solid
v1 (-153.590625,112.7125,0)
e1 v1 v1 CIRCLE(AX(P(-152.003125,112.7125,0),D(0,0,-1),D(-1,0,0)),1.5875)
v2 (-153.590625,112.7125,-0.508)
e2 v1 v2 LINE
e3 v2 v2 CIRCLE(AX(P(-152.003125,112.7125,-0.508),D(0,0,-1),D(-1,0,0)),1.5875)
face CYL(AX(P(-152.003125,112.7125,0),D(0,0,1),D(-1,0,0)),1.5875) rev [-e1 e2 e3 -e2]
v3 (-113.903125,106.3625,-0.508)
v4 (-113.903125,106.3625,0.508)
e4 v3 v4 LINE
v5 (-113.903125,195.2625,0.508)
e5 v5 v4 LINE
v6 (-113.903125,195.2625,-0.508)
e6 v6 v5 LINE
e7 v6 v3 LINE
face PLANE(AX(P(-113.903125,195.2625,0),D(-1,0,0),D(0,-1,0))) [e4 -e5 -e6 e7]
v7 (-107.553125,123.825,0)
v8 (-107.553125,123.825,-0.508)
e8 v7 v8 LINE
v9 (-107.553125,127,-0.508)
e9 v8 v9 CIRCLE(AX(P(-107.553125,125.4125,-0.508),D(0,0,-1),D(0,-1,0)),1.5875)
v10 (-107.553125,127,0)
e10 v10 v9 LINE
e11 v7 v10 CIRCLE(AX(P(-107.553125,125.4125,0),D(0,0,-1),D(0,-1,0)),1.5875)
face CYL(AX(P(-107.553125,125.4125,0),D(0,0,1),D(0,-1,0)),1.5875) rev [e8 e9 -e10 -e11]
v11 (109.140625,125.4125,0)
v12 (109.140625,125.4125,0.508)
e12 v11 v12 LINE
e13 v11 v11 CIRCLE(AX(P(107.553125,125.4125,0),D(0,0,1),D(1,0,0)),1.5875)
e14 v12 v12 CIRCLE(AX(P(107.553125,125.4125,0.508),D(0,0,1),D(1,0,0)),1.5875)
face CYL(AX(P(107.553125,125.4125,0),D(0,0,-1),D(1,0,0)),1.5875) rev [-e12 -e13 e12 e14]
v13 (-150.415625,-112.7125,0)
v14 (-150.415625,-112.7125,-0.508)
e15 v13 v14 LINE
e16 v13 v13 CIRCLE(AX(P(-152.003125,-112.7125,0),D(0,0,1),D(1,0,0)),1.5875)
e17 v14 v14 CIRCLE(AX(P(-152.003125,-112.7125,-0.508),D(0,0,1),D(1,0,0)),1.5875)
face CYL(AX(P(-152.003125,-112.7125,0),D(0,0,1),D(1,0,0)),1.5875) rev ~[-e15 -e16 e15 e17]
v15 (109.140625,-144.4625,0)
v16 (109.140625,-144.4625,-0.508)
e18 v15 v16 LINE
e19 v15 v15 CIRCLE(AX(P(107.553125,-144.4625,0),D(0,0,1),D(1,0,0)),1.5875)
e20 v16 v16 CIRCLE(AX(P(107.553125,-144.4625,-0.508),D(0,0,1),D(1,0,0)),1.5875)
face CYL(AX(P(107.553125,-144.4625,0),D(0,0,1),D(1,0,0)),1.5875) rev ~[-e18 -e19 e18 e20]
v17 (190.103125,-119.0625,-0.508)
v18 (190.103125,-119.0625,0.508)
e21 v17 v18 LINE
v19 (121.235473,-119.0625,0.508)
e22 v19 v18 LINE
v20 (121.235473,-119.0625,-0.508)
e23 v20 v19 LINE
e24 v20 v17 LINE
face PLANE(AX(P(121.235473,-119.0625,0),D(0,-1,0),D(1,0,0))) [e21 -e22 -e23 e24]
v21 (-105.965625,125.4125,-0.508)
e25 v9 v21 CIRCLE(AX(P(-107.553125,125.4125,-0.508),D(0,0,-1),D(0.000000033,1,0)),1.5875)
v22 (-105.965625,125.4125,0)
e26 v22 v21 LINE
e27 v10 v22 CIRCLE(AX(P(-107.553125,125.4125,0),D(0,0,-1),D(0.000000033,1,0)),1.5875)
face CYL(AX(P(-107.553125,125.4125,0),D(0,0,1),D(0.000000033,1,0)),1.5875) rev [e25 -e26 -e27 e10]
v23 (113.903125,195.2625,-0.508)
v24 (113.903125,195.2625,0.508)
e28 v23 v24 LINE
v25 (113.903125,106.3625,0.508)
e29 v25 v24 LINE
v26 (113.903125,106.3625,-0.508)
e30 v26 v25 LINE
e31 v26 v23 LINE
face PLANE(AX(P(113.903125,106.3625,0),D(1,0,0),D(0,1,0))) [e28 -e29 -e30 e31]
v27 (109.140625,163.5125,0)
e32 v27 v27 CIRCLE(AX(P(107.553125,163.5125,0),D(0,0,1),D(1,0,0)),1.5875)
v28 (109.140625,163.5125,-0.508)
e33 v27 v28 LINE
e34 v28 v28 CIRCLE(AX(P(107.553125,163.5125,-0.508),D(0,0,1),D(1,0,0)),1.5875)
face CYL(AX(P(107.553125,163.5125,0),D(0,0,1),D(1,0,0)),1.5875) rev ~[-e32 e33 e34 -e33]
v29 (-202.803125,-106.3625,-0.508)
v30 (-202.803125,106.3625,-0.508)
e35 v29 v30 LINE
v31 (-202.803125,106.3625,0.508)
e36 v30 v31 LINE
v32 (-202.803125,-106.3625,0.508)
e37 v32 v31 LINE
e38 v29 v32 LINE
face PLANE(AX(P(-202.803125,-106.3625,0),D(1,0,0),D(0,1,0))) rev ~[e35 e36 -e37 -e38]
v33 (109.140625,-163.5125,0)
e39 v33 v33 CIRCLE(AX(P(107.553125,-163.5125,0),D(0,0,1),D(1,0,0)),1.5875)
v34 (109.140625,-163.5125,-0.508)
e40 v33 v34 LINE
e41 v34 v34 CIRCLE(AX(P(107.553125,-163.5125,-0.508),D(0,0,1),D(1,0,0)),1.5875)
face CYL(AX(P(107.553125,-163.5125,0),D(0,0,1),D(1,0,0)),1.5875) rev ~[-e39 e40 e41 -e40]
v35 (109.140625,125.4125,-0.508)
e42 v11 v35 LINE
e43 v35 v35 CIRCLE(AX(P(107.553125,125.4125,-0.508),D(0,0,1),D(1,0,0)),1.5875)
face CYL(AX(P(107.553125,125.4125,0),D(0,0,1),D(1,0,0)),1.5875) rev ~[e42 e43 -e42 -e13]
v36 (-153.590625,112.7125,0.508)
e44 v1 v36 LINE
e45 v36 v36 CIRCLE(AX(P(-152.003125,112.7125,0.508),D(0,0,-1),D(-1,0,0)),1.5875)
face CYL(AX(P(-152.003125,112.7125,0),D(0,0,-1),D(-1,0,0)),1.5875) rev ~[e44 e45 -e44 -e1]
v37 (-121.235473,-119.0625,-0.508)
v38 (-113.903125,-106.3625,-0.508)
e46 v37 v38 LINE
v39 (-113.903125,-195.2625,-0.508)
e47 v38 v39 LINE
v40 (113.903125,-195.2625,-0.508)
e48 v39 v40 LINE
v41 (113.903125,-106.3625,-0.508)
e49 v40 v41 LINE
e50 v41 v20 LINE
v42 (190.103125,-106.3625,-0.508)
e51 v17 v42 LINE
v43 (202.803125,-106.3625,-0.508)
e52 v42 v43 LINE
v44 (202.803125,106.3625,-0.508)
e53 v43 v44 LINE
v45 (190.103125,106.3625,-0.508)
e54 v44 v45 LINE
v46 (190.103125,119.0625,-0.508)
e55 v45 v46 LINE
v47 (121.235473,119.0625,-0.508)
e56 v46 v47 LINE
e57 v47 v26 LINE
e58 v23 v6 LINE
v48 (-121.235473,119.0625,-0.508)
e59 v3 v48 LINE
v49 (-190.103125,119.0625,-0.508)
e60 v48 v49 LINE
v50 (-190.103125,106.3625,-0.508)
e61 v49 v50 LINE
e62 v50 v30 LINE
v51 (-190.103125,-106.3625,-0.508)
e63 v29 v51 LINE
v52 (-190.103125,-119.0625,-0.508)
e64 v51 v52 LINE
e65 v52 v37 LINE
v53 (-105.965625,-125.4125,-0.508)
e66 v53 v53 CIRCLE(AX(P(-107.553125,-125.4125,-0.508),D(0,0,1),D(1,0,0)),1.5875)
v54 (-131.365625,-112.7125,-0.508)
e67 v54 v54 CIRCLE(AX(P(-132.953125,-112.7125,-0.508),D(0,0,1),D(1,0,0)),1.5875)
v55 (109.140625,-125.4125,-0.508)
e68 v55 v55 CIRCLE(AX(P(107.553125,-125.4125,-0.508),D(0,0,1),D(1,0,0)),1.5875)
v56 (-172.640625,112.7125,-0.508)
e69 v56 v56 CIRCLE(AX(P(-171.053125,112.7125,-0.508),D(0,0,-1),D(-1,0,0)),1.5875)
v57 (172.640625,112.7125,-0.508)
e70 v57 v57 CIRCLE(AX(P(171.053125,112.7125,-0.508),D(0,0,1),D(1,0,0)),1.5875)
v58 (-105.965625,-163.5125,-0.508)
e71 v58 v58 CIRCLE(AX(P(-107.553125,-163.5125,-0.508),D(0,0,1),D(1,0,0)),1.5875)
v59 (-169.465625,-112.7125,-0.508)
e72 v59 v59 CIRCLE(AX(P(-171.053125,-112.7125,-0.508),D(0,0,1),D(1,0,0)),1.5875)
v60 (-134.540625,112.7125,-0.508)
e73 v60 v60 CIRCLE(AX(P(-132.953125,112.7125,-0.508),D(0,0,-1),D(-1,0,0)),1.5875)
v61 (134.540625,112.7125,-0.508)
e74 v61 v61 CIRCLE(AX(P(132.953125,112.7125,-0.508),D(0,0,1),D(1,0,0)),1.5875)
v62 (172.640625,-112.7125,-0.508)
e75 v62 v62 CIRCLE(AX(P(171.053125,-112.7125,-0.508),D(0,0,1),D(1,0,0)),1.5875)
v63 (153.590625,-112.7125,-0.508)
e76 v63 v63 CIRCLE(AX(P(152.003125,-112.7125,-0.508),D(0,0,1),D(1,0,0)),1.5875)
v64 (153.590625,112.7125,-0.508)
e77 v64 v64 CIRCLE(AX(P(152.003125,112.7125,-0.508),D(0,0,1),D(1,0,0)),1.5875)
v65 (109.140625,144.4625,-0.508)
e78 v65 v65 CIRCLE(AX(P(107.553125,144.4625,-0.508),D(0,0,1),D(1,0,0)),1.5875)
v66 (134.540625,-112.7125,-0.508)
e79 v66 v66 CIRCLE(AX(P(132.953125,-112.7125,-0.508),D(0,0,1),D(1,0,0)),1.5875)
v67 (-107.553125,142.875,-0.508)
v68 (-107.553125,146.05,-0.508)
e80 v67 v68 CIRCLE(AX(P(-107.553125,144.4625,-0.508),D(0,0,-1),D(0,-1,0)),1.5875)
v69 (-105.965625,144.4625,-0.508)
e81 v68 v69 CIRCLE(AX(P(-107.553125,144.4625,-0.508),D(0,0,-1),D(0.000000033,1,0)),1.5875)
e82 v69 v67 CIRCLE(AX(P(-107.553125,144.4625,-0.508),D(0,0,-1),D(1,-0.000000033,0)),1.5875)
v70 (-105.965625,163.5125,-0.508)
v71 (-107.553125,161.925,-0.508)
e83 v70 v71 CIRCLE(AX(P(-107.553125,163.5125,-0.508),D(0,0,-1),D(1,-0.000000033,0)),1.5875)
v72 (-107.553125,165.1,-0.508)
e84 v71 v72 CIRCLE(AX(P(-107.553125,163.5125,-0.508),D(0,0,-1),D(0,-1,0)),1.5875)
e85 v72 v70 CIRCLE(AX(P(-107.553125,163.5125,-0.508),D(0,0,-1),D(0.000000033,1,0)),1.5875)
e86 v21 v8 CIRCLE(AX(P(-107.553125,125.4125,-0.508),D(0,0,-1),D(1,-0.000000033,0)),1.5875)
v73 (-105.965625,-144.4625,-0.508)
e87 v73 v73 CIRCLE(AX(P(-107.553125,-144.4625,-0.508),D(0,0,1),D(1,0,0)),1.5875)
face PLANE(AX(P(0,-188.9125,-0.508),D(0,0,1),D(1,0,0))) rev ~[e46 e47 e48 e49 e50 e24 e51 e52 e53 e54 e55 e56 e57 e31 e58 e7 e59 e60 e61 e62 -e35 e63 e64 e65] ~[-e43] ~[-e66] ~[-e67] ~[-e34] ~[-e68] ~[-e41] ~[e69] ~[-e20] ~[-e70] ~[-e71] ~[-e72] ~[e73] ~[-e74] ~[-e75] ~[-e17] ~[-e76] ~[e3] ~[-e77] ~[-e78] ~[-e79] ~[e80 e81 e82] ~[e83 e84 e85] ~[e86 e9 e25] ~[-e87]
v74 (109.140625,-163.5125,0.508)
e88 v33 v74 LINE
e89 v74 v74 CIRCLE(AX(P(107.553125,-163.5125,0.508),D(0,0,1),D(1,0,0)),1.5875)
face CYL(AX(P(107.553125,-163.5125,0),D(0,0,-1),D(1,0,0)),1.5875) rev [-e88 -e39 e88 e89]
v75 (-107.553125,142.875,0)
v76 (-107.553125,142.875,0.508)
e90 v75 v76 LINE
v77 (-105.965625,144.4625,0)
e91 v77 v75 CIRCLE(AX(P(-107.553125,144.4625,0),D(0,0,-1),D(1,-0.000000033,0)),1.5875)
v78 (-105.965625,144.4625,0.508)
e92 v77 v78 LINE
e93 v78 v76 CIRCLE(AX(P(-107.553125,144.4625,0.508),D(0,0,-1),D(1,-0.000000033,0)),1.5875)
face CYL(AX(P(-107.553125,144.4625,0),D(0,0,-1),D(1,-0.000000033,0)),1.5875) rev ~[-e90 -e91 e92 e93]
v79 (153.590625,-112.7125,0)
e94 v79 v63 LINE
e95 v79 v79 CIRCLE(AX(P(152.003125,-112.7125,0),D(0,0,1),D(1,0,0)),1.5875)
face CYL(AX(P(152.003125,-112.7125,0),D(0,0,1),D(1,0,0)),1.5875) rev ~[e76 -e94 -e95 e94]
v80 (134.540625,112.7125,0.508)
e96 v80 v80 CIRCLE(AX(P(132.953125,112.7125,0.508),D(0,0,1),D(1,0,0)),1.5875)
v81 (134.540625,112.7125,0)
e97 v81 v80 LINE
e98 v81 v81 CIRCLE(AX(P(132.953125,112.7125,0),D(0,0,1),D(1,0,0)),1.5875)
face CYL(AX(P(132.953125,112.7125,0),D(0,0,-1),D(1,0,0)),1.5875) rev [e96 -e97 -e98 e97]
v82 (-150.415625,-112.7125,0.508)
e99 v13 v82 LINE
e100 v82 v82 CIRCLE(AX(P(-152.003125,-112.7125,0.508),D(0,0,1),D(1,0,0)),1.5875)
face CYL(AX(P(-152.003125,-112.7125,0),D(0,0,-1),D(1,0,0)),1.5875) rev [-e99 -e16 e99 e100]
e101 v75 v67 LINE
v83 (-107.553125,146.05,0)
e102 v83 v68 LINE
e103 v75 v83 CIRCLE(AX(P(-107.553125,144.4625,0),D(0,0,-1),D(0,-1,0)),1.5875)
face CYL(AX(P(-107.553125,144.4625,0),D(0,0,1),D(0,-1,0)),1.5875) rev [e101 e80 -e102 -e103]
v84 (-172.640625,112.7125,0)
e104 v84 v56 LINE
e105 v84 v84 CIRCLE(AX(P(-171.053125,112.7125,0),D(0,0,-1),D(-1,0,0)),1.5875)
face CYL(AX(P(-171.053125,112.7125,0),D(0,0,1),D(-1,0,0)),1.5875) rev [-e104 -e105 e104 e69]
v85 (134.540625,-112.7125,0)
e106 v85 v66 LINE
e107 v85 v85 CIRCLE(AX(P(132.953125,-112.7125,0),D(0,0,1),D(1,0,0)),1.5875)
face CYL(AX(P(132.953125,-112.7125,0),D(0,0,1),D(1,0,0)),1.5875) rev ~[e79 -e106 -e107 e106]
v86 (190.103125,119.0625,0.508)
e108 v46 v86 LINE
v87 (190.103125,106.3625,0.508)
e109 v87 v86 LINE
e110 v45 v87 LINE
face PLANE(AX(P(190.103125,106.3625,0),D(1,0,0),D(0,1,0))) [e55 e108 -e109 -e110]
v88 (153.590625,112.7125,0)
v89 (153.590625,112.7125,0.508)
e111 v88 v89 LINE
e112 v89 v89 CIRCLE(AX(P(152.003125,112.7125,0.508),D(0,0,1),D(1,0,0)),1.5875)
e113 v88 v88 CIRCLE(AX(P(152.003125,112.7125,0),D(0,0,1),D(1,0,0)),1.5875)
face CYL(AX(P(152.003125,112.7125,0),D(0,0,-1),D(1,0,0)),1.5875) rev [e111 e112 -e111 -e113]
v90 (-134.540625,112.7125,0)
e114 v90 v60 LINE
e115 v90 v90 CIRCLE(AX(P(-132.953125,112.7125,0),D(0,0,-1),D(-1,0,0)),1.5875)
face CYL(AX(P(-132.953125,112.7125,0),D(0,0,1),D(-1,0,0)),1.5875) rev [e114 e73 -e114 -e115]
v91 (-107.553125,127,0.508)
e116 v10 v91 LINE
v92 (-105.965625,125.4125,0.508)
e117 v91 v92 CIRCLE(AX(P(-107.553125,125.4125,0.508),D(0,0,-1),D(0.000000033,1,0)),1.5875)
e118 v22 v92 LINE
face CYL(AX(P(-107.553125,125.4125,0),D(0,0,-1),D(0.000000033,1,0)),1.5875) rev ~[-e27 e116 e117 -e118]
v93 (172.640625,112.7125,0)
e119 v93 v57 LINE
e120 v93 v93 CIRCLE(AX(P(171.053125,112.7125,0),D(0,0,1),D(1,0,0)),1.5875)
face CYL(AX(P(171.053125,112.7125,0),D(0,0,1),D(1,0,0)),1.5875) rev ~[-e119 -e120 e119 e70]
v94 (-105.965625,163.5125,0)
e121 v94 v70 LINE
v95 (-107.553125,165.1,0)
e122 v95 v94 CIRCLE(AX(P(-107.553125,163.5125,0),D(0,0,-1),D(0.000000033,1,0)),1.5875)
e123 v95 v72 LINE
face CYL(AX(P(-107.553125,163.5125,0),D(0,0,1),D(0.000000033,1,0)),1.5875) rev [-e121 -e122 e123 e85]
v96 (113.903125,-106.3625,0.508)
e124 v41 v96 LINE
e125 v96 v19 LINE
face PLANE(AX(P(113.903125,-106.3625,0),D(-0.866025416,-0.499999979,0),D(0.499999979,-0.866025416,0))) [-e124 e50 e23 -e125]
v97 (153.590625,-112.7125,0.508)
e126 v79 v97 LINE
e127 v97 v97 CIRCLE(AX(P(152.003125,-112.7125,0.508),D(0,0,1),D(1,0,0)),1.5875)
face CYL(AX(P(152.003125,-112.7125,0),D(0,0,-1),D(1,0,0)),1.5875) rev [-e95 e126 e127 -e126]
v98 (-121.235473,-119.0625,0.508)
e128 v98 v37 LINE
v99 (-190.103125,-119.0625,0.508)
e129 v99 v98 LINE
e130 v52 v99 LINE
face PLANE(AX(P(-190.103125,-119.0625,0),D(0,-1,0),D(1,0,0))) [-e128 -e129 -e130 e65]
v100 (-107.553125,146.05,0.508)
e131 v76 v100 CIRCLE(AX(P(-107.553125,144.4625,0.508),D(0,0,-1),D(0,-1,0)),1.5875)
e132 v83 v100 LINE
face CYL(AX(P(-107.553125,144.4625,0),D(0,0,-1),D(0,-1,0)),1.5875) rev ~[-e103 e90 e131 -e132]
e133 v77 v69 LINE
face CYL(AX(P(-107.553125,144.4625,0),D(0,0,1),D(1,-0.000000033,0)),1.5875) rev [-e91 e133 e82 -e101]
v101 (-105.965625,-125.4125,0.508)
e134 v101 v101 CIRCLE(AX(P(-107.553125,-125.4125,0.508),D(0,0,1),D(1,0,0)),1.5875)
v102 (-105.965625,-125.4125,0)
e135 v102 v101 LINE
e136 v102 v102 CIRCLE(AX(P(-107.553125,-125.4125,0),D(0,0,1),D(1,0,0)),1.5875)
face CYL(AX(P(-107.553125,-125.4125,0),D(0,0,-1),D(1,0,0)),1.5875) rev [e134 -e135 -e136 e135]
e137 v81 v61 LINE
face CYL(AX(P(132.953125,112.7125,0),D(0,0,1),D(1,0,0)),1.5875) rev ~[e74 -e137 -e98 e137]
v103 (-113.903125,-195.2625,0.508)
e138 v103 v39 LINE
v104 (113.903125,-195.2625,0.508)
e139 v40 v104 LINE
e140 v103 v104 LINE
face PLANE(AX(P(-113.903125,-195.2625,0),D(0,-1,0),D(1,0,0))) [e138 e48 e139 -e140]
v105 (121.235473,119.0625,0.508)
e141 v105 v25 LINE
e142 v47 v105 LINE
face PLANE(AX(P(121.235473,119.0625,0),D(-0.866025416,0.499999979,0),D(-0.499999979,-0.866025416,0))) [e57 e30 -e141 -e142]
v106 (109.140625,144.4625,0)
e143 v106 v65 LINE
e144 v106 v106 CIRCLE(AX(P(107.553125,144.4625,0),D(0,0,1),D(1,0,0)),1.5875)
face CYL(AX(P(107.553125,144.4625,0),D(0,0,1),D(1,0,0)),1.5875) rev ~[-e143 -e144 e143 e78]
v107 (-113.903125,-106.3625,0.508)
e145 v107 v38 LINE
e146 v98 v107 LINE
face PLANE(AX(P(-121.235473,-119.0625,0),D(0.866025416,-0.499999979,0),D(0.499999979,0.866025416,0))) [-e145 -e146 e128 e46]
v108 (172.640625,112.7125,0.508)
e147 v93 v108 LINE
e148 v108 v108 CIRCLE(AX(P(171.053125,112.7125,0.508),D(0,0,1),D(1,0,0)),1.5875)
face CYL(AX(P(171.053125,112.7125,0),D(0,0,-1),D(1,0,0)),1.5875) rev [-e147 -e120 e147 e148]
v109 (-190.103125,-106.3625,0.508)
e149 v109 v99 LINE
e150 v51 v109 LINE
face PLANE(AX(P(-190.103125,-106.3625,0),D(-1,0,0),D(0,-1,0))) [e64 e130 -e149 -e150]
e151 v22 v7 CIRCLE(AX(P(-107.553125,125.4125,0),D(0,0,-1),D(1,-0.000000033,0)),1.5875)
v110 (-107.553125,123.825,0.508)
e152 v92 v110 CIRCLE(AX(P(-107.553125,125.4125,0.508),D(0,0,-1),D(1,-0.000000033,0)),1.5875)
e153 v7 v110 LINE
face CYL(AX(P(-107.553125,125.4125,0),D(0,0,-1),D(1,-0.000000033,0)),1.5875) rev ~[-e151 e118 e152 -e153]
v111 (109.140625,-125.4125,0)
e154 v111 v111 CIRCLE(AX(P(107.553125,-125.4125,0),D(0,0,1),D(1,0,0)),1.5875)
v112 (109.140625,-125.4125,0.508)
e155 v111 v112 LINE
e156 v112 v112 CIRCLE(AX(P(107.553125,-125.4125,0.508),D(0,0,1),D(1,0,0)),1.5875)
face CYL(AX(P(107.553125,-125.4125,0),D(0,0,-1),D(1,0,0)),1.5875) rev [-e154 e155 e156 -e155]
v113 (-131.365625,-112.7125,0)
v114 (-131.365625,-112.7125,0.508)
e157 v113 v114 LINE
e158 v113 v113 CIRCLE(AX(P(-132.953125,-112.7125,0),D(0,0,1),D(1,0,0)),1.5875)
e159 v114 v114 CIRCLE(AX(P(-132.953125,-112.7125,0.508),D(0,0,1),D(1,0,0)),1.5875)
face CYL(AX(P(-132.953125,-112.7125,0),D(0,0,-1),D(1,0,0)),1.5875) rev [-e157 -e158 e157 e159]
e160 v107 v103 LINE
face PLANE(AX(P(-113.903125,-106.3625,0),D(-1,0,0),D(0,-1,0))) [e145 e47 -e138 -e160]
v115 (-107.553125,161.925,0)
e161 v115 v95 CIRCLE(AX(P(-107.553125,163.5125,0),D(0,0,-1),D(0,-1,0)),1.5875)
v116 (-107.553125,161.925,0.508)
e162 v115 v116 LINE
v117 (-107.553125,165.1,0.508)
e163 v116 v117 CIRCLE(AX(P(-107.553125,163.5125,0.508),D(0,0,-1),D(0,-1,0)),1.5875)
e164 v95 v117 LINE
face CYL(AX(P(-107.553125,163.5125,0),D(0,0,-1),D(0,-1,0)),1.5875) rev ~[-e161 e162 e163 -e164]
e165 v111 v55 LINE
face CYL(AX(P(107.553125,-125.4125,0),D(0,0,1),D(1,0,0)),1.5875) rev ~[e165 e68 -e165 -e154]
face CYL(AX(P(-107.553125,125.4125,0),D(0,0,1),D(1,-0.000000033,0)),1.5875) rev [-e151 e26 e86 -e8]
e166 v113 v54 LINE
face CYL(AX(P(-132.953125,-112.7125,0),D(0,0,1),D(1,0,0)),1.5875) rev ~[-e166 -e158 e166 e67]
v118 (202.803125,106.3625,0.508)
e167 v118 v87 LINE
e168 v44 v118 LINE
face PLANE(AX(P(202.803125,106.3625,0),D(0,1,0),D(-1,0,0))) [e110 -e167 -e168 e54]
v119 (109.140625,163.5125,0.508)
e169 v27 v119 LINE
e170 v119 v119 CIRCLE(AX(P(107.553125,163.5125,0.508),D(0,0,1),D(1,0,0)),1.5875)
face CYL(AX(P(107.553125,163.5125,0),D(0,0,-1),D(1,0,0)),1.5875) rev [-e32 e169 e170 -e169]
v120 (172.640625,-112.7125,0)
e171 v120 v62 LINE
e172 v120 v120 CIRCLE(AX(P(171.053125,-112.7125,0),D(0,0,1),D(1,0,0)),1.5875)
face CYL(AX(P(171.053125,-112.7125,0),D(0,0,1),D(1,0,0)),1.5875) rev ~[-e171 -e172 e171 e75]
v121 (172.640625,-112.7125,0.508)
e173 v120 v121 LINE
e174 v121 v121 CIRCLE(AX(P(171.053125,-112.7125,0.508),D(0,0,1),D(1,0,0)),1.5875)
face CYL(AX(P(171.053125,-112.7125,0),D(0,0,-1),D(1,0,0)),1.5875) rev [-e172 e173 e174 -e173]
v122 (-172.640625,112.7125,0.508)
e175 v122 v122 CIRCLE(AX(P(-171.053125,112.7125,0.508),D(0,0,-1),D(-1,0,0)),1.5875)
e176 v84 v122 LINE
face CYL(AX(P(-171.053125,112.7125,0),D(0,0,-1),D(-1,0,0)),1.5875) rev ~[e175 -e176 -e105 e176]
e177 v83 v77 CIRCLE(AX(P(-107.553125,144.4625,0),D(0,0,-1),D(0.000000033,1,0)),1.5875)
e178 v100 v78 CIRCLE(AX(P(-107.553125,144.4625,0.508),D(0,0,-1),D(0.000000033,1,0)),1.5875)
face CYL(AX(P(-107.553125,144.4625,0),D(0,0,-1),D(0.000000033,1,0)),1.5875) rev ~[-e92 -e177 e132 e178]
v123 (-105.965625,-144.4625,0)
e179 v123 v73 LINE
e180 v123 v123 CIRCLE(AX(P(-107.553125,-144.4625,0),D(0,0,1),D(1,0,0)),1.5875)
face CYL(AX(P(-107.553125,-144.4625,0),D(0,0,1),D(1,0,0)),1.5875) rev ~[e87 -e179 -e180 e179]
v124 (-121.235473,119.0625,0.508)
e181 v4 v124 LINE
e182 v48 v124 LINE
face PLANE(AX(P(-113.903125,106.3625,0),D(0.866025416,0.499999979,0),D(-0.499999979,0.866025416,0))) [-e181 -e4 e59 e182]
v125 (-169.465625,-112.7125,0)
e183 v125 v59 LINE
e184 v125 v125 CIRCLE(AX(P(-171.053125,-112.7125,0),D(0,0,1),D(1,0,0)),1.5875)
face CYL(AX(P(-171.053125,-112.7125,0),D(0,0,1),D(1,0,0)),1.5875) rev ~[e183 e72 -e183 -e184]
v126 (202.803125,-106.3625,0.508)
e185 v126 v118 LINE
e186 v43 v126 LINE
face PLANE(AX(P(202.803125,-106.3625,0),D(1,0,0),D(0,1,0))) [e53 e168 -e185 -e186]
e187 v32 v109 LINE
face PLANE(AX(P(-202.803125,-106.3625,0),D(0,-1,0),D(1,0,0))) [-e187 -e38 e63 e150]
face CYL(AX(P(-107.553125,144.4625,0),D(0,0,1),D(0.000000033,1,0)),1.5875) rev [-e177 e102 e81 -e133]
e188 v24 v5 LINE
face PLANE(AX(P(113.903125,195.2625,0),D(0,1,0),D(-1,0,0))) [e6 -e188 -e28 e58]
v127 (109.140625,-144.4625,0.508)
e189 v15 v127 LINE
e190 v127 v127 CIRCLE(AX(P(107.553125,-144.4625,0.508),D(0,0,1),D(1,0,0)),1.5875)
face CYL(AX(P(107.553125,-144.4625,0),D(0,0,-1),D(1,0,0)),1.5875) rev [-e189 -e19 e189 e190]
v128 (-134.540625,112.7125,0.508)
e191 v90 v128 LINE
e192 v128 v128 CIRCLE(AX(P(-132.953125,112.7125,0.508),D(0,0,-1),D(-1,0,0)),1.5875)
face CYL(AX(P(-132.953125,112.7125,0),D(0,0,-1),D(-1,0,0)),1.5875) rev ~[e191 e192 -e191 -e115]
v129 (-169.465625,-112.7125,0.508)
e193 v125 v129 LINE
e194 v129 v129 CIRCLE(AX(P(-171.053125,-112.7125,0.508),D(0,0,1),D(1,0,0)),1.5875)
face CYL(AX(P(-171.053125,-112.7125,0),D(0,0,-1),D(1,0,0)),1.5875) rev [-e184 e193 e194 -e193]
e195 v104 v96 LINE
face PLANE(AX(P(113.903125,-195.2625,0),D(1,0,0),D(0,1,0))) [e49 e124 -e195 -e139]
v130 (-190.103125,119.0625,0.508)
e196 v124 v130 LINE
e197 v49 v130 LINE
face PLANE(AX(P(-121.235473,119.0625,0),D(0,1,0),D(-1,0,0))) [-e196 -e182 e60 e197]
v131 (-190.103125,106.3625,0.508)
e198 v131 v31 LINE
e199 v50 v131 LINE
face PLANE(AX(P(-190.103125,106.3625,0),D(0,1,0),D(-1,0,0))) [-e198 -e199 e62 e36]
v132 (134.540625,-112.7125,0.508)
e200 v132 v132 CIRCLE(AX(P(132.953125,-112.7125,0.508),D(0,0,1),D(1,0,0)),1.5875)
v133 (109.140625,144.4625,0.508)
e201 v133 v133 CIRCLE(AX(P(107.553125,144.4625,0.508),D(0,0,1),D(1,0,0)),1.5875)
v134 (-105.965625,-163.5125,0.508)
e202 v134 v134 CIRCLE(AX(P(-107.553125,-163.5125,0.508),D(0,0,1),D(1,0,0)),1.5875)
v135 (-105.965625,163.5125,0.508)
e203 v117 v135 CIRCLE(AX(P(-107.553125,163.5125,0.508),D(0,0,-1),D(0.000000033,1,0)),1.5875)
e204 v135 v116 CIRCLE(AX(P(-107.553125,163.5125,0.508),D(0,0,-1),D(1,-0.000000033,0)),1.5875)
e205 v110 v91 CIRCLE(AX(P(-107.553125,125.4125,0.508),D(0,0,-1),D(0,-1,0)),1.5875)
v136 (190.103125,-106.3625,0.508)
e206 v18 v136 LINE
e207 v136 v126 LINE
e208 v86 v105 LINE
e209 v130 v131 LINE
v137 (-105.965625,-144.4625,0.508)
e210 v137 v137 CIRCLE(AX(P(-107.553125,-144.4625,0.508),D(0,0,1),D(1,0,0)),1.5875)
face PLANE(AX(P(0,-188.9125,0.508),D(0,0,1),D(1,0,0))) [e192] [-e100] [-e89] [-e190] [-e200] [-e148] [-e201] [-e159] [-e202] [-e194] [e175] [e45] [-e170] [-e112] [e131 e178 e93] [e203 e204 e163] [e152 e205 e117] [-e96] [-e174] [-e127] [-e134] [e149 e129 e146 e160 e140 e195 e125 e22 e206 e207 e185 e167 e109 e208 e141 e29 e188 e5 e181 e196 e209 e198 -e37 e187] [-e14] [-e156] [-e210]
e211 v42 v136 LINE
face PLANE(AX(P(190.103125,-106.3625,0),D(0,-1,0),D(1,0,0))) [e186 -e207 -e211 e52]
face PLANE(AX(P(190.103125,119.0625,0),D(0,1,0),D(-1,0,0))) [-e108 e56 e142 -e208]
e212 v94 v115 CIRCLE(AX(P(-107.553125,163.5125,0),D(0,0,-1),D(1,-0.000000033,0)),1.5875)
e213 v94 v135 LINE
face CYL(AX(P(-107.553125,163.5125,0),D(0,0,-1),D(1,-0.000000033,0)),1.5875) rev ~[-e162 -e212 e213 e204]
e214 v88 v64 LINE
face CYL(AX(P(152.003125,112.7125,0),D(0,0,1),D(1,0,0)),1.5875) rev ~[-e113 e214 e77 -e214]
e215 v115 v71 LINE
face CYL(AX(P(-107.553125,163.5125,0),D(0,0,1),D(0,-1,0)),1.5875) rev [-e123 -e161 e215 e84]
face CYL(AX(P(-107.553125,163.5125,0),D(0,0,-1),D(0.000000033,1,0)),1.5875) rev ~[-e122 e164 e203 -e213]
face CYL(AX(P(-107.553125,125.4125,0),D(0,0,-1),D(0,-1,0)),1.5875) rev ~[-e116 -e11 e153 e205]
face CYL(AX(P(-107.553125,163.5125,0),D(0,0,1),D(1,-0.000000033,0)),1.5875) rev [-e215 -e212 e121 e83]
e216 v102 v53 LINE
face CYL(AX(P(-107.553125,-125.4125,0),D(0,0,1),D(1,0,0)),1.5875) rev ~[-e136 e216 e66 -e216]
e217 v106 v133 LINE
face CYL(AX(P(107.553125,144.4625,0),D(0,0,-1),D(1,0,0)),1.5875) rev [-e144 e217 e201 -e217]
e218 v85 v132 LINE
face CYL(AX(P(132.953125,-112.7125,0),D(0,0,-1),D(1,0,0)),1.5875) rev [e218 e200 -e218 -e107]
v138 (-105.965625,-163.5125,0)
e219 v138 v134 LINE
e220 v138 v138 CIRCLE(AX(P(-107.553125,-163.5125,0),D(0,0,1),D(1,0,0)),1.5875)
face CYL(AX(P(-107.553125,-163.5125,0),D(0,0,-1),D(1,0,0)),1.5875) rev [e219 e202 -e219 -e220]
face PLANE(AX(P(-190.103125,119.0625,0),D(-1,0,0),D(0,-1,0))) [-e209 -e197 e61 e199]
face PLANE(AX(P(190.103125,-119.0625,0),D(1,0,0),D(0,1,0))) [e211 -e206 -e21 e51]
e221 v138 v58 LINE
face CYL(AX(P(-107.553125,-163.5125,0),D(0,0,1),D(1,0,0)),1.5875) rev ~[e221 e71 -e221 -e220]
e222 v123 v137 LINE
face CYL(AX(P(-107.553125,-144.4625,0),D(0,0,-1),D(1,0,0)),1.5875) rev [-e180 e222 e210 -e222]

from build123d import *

# Parameters (mm, degrees)
F0_W     = 227.80625
F0_H     = 12.7
F0_W_2   = 6.35
F0_H_2   = 212.725
F0_W_3   = 76.2
F0_R     = 1.5875
F1_DEPTH = 0.508


with BuildPart() as f1:
    # F0 (on Top) → F1 (new body, symmetric)
    with BuildSketch(Plane.XY):
        with Locations((0, -188.9125)):
            Rectangle(F0_W, F0_H)
        with Locations((-199.628125, 0)):
            Rectangle(F0_W_2, F0_H_2)
        with Locations((199.628125, 0)):
            Rectangle(F0_W_2, F0_H_2)
        Polygon((-107.553125, 182.5625), (113.903125, 182.5625), (113.903125, 195.2625), (-113.903125, 195.2625), (-113.903125, 182.5625), align=None)
        with Locations((-193.278125, 0)):
            Rectangle(F0_W_2, F0_H_2)
        with Locations((193.278125, 0)):
            Rectangle(F0_W_2, F0_H_2)
        with Locations((152.003125, 0)):
            Rectangle(F0_W_3, F0_H_2)
        with Locations((-152.003125, 0)):
            Rectangle(F0_W_3, F0_H_2)
        Polygon((-121.235473, -119.0625), (-113.903125, -106.3625), (-190.103125, -106.3625), (-190.103125, -119.0625), align=None)
        with Locations((-171.053125, -112.7125)):
            Circle(F0_R, mode=Mode.SUBTRACT)
        with Locations((-152.003125, -112.7125)):
            Circle(F0_R, mode=Mode.SUBTRACT)
        with Locations((-132.953125, -112.7125)):
            Circle(F0_R, mode=Mode.SUBTRACT)
        with BuildLine():
            Line((-131.365625, 112.7125), (-117.569299, 112.7125))
            Line((-117.569299, 112.7125), (-121.235473, 119.0625))
            Line((-121.235473, 119.0625), (-190.103125, 119.0625))
            Line((-190.103125, 119.0625), (-190.103125, 112.7125))
            Line((-190.103125, 112.7125), (-172.640625, 112.7125))
            ThreePointArc((-172.640625, 112.7125), (-171.053125, 114.3), (-169.465625, 112.7125))
            Line((-169.465625, 112.7125), (-153.590625, 112.7125))
            ThreePointArc((-153.590625, 112.7125), (-152.003125, 114.3), (-150.415625, 112.7125))
            Line((-150.415625, 112.7125), (-134.540625, 112.7125))
            ThreePointArc((-134.540625, 112.7125), (-132.953125, 114.3), (-131.365625, 112.7125))
        make_face()
        Polygon((190.103125, -106.3625), (113.903125, -106.3625), (121.235473, -119.0625), (190.103125, -119.0625), align=None)
        with Locations((132.953125, -112.7125)):
            Circle(F0_R, mode=Mode.SUBTRACT)
        with Locations((152.003125, -112.7125)):
            Circle(F0_R, mode=Mode.SUBTRACT)
        with Locations((171.053125, -112.7125)):
            Circle(F0_R, mode=Mode.SUBTRACT)
        Polygon((121.235473, 119.0625), (113.903125, 106.3625), (190.103125, 106.3625), (190.103125, 119.0625), align=None)
        with Locations((132.953125, 112.7125)):
            Circle(F0_R, mode=Mode.SUBTRACT)
        with Locations((152.003125, 112.7125)):
            Circle(F0_R, mode=Mode.SUBTRACT)
        with Locations((171.053125, 112.7125)):
            Circle(F0_R, mode=Mode.SUBTRACT)
        with BuildLine():
            Line((-190.103125, 106.3625), (-113.903125, 106.3625))
            Line((-113.903125, 106.3625), (-117.569299, 112.7125))
            Line((-117.569299, 112.7125), (-131.365625, 112.7125))
            ThreePointArc((-131.365625, 112.7125), (-132.953125, 111.125), (-134.540625, 112.7125))
            Line((-134.540625, 112.7125), (-150.415625, 112.7125))
            ThreePointArc((-150.415625, 112.7125), (-152.003125, 111.125), (-153.590625, 112.7125))
            Line((-153.590625, 112.7125), (-169.465625, 112.7125))
            ThreePointArc((-169.465625, 112.7125), (-171.053125, 111.125), (-172.640625, 112.7125))
            Line((-172.640625, 112.7125), (-190.103125, 112.7125))
            Line((-190.103125, 112.7125), (-190.103125, 106.3625))
        make_face()
        with BuildLine():
            Line((-113.903125, 106.3625), (-107.553125, 106.3625))
            Line((-107.553125, 106.3625), (-107.553125, 123.825))
            ThreePointArc((-107.553125, 123.825), (-109.140625, 125.4125), (-107.553125, 127))
            Line((-107.553125, 127), (-107.553125, 142.875))
            ThreePointArc((-107.553125, 142.875), (-109.140625, 144.4625), (-107.553125, 146.05))
            Line((-107.553125, 146.05), (-107.553125, 161.925))
            ThreePointArc((-107.553125, 161.925), (-109.140625, 163.5125), (-107.553125, 165.1))
            Line((-107.553125, 165.1), (-107.553125, 182.5625))
            Line((-107.553125, 182.5625), (-113.903125, 182.5625))
            Line((-113.903125, 182.5625), (-113.903125, 119.0625))
            Line((-113.903125, 119.0625), (-113.903125, 112.7125))
            Line((-113.903125, 112.7125), (-113.903125, 106.3625))
        make_face()
        Polygon((113.903125, -119.0625), (113.903125, -106.3625), (-113.903125, -106.3625), (-113.903125, -119.0625), (-113.903125, -182.5625), (113.903125, -182.5625), align=None)
        with Locations((-107.553125, -163.5125)):
            Circle(F0_R, mode=Mode.SUBTRACT)
        with Locations((-107.553125, -144.4625)):
            Circle(F0_R, mode=Mode.SUBTRACT)
        with Locations((-107.553125, -125.4125)):
            Circle(F0_R, mode=Mode.SUBTRACT)
        with Locations((107.553125, -163.5125)):
            Circle(F0_R, mode=Mode.SUBTRACT)
        with Locations((107.553125, -144.4625)):
            Circle(F0_R, mode=Mode.SUBTRACT)
        with Locations((107.553125, -125.4125)):
            Circle(F0_R, mode=Mode.SUBTRACT)
        with BuildLine():
            Line((-107.553125, 106.3625), (113.903125, 106.3625))
            Line((113.903125, 106.3625), (113.903125, 119.0625))
            Line((113.903125, 119.0625), (113.903125, 182.5625))
            Line((113.903125, 182.5625), (-107.553125, 182.5625))
            Line((-107.553125, 182.5625), (-107.553125, 165.1))
            ThreePointArc((-107.553125, 165.1), (-106.430593, 164.635032), (-105.965625, 163.5125))
            ThreePointArc((-105.965625, 163.5125), (-106.430593, 162.389968), (-107.553125, 161.925))
            Line((-107.553125, 161.925), (-107.553125, 146.05))
            ThreePointArc((-107.553125, 146.05), (-106.430593, 145.585032), (-105.965625, 144.4625))
            ThreePointArc((-105.965625, 144.4625), (-106.430593, 143.339968), (-107.553125, 142.875))
            Line((-107.553125, 142.875), (-107.553125, 127))
            ThreePointArc((-107.553125, 127), (-106.430593, 126.535032), (-105.965625, 125.4125))
            ThreePointArc((-105.965625, 125.4125), (-106.430593, 124.289968), (-107.553125, 123.825))
            Line((-107.553125, 123.825), (-107.553125, 106.3625))
        make_face()
        with Locations((107.553125, 125.4125)):
            Circle(F0_R, mode=Mode.SUBTRACT)
        with Locations((107.553125, 144.4625)):
            Circle(F0_R, mode=Mode.SUBTRACT)
        with Locations((107.553125, 163.5125)):
            Circle(F0_R, mode=Mode.SUBTRACT)
        Polygon((113.903125, -106.3625), (113.903125, 106.3625), (-107.553125, 106.3625), (-113.903125, 106.3625), (-113.903125, -106.3625), align=None)
    extrude(amount=F1_DEPTH, both=True)


solid = f1.part
